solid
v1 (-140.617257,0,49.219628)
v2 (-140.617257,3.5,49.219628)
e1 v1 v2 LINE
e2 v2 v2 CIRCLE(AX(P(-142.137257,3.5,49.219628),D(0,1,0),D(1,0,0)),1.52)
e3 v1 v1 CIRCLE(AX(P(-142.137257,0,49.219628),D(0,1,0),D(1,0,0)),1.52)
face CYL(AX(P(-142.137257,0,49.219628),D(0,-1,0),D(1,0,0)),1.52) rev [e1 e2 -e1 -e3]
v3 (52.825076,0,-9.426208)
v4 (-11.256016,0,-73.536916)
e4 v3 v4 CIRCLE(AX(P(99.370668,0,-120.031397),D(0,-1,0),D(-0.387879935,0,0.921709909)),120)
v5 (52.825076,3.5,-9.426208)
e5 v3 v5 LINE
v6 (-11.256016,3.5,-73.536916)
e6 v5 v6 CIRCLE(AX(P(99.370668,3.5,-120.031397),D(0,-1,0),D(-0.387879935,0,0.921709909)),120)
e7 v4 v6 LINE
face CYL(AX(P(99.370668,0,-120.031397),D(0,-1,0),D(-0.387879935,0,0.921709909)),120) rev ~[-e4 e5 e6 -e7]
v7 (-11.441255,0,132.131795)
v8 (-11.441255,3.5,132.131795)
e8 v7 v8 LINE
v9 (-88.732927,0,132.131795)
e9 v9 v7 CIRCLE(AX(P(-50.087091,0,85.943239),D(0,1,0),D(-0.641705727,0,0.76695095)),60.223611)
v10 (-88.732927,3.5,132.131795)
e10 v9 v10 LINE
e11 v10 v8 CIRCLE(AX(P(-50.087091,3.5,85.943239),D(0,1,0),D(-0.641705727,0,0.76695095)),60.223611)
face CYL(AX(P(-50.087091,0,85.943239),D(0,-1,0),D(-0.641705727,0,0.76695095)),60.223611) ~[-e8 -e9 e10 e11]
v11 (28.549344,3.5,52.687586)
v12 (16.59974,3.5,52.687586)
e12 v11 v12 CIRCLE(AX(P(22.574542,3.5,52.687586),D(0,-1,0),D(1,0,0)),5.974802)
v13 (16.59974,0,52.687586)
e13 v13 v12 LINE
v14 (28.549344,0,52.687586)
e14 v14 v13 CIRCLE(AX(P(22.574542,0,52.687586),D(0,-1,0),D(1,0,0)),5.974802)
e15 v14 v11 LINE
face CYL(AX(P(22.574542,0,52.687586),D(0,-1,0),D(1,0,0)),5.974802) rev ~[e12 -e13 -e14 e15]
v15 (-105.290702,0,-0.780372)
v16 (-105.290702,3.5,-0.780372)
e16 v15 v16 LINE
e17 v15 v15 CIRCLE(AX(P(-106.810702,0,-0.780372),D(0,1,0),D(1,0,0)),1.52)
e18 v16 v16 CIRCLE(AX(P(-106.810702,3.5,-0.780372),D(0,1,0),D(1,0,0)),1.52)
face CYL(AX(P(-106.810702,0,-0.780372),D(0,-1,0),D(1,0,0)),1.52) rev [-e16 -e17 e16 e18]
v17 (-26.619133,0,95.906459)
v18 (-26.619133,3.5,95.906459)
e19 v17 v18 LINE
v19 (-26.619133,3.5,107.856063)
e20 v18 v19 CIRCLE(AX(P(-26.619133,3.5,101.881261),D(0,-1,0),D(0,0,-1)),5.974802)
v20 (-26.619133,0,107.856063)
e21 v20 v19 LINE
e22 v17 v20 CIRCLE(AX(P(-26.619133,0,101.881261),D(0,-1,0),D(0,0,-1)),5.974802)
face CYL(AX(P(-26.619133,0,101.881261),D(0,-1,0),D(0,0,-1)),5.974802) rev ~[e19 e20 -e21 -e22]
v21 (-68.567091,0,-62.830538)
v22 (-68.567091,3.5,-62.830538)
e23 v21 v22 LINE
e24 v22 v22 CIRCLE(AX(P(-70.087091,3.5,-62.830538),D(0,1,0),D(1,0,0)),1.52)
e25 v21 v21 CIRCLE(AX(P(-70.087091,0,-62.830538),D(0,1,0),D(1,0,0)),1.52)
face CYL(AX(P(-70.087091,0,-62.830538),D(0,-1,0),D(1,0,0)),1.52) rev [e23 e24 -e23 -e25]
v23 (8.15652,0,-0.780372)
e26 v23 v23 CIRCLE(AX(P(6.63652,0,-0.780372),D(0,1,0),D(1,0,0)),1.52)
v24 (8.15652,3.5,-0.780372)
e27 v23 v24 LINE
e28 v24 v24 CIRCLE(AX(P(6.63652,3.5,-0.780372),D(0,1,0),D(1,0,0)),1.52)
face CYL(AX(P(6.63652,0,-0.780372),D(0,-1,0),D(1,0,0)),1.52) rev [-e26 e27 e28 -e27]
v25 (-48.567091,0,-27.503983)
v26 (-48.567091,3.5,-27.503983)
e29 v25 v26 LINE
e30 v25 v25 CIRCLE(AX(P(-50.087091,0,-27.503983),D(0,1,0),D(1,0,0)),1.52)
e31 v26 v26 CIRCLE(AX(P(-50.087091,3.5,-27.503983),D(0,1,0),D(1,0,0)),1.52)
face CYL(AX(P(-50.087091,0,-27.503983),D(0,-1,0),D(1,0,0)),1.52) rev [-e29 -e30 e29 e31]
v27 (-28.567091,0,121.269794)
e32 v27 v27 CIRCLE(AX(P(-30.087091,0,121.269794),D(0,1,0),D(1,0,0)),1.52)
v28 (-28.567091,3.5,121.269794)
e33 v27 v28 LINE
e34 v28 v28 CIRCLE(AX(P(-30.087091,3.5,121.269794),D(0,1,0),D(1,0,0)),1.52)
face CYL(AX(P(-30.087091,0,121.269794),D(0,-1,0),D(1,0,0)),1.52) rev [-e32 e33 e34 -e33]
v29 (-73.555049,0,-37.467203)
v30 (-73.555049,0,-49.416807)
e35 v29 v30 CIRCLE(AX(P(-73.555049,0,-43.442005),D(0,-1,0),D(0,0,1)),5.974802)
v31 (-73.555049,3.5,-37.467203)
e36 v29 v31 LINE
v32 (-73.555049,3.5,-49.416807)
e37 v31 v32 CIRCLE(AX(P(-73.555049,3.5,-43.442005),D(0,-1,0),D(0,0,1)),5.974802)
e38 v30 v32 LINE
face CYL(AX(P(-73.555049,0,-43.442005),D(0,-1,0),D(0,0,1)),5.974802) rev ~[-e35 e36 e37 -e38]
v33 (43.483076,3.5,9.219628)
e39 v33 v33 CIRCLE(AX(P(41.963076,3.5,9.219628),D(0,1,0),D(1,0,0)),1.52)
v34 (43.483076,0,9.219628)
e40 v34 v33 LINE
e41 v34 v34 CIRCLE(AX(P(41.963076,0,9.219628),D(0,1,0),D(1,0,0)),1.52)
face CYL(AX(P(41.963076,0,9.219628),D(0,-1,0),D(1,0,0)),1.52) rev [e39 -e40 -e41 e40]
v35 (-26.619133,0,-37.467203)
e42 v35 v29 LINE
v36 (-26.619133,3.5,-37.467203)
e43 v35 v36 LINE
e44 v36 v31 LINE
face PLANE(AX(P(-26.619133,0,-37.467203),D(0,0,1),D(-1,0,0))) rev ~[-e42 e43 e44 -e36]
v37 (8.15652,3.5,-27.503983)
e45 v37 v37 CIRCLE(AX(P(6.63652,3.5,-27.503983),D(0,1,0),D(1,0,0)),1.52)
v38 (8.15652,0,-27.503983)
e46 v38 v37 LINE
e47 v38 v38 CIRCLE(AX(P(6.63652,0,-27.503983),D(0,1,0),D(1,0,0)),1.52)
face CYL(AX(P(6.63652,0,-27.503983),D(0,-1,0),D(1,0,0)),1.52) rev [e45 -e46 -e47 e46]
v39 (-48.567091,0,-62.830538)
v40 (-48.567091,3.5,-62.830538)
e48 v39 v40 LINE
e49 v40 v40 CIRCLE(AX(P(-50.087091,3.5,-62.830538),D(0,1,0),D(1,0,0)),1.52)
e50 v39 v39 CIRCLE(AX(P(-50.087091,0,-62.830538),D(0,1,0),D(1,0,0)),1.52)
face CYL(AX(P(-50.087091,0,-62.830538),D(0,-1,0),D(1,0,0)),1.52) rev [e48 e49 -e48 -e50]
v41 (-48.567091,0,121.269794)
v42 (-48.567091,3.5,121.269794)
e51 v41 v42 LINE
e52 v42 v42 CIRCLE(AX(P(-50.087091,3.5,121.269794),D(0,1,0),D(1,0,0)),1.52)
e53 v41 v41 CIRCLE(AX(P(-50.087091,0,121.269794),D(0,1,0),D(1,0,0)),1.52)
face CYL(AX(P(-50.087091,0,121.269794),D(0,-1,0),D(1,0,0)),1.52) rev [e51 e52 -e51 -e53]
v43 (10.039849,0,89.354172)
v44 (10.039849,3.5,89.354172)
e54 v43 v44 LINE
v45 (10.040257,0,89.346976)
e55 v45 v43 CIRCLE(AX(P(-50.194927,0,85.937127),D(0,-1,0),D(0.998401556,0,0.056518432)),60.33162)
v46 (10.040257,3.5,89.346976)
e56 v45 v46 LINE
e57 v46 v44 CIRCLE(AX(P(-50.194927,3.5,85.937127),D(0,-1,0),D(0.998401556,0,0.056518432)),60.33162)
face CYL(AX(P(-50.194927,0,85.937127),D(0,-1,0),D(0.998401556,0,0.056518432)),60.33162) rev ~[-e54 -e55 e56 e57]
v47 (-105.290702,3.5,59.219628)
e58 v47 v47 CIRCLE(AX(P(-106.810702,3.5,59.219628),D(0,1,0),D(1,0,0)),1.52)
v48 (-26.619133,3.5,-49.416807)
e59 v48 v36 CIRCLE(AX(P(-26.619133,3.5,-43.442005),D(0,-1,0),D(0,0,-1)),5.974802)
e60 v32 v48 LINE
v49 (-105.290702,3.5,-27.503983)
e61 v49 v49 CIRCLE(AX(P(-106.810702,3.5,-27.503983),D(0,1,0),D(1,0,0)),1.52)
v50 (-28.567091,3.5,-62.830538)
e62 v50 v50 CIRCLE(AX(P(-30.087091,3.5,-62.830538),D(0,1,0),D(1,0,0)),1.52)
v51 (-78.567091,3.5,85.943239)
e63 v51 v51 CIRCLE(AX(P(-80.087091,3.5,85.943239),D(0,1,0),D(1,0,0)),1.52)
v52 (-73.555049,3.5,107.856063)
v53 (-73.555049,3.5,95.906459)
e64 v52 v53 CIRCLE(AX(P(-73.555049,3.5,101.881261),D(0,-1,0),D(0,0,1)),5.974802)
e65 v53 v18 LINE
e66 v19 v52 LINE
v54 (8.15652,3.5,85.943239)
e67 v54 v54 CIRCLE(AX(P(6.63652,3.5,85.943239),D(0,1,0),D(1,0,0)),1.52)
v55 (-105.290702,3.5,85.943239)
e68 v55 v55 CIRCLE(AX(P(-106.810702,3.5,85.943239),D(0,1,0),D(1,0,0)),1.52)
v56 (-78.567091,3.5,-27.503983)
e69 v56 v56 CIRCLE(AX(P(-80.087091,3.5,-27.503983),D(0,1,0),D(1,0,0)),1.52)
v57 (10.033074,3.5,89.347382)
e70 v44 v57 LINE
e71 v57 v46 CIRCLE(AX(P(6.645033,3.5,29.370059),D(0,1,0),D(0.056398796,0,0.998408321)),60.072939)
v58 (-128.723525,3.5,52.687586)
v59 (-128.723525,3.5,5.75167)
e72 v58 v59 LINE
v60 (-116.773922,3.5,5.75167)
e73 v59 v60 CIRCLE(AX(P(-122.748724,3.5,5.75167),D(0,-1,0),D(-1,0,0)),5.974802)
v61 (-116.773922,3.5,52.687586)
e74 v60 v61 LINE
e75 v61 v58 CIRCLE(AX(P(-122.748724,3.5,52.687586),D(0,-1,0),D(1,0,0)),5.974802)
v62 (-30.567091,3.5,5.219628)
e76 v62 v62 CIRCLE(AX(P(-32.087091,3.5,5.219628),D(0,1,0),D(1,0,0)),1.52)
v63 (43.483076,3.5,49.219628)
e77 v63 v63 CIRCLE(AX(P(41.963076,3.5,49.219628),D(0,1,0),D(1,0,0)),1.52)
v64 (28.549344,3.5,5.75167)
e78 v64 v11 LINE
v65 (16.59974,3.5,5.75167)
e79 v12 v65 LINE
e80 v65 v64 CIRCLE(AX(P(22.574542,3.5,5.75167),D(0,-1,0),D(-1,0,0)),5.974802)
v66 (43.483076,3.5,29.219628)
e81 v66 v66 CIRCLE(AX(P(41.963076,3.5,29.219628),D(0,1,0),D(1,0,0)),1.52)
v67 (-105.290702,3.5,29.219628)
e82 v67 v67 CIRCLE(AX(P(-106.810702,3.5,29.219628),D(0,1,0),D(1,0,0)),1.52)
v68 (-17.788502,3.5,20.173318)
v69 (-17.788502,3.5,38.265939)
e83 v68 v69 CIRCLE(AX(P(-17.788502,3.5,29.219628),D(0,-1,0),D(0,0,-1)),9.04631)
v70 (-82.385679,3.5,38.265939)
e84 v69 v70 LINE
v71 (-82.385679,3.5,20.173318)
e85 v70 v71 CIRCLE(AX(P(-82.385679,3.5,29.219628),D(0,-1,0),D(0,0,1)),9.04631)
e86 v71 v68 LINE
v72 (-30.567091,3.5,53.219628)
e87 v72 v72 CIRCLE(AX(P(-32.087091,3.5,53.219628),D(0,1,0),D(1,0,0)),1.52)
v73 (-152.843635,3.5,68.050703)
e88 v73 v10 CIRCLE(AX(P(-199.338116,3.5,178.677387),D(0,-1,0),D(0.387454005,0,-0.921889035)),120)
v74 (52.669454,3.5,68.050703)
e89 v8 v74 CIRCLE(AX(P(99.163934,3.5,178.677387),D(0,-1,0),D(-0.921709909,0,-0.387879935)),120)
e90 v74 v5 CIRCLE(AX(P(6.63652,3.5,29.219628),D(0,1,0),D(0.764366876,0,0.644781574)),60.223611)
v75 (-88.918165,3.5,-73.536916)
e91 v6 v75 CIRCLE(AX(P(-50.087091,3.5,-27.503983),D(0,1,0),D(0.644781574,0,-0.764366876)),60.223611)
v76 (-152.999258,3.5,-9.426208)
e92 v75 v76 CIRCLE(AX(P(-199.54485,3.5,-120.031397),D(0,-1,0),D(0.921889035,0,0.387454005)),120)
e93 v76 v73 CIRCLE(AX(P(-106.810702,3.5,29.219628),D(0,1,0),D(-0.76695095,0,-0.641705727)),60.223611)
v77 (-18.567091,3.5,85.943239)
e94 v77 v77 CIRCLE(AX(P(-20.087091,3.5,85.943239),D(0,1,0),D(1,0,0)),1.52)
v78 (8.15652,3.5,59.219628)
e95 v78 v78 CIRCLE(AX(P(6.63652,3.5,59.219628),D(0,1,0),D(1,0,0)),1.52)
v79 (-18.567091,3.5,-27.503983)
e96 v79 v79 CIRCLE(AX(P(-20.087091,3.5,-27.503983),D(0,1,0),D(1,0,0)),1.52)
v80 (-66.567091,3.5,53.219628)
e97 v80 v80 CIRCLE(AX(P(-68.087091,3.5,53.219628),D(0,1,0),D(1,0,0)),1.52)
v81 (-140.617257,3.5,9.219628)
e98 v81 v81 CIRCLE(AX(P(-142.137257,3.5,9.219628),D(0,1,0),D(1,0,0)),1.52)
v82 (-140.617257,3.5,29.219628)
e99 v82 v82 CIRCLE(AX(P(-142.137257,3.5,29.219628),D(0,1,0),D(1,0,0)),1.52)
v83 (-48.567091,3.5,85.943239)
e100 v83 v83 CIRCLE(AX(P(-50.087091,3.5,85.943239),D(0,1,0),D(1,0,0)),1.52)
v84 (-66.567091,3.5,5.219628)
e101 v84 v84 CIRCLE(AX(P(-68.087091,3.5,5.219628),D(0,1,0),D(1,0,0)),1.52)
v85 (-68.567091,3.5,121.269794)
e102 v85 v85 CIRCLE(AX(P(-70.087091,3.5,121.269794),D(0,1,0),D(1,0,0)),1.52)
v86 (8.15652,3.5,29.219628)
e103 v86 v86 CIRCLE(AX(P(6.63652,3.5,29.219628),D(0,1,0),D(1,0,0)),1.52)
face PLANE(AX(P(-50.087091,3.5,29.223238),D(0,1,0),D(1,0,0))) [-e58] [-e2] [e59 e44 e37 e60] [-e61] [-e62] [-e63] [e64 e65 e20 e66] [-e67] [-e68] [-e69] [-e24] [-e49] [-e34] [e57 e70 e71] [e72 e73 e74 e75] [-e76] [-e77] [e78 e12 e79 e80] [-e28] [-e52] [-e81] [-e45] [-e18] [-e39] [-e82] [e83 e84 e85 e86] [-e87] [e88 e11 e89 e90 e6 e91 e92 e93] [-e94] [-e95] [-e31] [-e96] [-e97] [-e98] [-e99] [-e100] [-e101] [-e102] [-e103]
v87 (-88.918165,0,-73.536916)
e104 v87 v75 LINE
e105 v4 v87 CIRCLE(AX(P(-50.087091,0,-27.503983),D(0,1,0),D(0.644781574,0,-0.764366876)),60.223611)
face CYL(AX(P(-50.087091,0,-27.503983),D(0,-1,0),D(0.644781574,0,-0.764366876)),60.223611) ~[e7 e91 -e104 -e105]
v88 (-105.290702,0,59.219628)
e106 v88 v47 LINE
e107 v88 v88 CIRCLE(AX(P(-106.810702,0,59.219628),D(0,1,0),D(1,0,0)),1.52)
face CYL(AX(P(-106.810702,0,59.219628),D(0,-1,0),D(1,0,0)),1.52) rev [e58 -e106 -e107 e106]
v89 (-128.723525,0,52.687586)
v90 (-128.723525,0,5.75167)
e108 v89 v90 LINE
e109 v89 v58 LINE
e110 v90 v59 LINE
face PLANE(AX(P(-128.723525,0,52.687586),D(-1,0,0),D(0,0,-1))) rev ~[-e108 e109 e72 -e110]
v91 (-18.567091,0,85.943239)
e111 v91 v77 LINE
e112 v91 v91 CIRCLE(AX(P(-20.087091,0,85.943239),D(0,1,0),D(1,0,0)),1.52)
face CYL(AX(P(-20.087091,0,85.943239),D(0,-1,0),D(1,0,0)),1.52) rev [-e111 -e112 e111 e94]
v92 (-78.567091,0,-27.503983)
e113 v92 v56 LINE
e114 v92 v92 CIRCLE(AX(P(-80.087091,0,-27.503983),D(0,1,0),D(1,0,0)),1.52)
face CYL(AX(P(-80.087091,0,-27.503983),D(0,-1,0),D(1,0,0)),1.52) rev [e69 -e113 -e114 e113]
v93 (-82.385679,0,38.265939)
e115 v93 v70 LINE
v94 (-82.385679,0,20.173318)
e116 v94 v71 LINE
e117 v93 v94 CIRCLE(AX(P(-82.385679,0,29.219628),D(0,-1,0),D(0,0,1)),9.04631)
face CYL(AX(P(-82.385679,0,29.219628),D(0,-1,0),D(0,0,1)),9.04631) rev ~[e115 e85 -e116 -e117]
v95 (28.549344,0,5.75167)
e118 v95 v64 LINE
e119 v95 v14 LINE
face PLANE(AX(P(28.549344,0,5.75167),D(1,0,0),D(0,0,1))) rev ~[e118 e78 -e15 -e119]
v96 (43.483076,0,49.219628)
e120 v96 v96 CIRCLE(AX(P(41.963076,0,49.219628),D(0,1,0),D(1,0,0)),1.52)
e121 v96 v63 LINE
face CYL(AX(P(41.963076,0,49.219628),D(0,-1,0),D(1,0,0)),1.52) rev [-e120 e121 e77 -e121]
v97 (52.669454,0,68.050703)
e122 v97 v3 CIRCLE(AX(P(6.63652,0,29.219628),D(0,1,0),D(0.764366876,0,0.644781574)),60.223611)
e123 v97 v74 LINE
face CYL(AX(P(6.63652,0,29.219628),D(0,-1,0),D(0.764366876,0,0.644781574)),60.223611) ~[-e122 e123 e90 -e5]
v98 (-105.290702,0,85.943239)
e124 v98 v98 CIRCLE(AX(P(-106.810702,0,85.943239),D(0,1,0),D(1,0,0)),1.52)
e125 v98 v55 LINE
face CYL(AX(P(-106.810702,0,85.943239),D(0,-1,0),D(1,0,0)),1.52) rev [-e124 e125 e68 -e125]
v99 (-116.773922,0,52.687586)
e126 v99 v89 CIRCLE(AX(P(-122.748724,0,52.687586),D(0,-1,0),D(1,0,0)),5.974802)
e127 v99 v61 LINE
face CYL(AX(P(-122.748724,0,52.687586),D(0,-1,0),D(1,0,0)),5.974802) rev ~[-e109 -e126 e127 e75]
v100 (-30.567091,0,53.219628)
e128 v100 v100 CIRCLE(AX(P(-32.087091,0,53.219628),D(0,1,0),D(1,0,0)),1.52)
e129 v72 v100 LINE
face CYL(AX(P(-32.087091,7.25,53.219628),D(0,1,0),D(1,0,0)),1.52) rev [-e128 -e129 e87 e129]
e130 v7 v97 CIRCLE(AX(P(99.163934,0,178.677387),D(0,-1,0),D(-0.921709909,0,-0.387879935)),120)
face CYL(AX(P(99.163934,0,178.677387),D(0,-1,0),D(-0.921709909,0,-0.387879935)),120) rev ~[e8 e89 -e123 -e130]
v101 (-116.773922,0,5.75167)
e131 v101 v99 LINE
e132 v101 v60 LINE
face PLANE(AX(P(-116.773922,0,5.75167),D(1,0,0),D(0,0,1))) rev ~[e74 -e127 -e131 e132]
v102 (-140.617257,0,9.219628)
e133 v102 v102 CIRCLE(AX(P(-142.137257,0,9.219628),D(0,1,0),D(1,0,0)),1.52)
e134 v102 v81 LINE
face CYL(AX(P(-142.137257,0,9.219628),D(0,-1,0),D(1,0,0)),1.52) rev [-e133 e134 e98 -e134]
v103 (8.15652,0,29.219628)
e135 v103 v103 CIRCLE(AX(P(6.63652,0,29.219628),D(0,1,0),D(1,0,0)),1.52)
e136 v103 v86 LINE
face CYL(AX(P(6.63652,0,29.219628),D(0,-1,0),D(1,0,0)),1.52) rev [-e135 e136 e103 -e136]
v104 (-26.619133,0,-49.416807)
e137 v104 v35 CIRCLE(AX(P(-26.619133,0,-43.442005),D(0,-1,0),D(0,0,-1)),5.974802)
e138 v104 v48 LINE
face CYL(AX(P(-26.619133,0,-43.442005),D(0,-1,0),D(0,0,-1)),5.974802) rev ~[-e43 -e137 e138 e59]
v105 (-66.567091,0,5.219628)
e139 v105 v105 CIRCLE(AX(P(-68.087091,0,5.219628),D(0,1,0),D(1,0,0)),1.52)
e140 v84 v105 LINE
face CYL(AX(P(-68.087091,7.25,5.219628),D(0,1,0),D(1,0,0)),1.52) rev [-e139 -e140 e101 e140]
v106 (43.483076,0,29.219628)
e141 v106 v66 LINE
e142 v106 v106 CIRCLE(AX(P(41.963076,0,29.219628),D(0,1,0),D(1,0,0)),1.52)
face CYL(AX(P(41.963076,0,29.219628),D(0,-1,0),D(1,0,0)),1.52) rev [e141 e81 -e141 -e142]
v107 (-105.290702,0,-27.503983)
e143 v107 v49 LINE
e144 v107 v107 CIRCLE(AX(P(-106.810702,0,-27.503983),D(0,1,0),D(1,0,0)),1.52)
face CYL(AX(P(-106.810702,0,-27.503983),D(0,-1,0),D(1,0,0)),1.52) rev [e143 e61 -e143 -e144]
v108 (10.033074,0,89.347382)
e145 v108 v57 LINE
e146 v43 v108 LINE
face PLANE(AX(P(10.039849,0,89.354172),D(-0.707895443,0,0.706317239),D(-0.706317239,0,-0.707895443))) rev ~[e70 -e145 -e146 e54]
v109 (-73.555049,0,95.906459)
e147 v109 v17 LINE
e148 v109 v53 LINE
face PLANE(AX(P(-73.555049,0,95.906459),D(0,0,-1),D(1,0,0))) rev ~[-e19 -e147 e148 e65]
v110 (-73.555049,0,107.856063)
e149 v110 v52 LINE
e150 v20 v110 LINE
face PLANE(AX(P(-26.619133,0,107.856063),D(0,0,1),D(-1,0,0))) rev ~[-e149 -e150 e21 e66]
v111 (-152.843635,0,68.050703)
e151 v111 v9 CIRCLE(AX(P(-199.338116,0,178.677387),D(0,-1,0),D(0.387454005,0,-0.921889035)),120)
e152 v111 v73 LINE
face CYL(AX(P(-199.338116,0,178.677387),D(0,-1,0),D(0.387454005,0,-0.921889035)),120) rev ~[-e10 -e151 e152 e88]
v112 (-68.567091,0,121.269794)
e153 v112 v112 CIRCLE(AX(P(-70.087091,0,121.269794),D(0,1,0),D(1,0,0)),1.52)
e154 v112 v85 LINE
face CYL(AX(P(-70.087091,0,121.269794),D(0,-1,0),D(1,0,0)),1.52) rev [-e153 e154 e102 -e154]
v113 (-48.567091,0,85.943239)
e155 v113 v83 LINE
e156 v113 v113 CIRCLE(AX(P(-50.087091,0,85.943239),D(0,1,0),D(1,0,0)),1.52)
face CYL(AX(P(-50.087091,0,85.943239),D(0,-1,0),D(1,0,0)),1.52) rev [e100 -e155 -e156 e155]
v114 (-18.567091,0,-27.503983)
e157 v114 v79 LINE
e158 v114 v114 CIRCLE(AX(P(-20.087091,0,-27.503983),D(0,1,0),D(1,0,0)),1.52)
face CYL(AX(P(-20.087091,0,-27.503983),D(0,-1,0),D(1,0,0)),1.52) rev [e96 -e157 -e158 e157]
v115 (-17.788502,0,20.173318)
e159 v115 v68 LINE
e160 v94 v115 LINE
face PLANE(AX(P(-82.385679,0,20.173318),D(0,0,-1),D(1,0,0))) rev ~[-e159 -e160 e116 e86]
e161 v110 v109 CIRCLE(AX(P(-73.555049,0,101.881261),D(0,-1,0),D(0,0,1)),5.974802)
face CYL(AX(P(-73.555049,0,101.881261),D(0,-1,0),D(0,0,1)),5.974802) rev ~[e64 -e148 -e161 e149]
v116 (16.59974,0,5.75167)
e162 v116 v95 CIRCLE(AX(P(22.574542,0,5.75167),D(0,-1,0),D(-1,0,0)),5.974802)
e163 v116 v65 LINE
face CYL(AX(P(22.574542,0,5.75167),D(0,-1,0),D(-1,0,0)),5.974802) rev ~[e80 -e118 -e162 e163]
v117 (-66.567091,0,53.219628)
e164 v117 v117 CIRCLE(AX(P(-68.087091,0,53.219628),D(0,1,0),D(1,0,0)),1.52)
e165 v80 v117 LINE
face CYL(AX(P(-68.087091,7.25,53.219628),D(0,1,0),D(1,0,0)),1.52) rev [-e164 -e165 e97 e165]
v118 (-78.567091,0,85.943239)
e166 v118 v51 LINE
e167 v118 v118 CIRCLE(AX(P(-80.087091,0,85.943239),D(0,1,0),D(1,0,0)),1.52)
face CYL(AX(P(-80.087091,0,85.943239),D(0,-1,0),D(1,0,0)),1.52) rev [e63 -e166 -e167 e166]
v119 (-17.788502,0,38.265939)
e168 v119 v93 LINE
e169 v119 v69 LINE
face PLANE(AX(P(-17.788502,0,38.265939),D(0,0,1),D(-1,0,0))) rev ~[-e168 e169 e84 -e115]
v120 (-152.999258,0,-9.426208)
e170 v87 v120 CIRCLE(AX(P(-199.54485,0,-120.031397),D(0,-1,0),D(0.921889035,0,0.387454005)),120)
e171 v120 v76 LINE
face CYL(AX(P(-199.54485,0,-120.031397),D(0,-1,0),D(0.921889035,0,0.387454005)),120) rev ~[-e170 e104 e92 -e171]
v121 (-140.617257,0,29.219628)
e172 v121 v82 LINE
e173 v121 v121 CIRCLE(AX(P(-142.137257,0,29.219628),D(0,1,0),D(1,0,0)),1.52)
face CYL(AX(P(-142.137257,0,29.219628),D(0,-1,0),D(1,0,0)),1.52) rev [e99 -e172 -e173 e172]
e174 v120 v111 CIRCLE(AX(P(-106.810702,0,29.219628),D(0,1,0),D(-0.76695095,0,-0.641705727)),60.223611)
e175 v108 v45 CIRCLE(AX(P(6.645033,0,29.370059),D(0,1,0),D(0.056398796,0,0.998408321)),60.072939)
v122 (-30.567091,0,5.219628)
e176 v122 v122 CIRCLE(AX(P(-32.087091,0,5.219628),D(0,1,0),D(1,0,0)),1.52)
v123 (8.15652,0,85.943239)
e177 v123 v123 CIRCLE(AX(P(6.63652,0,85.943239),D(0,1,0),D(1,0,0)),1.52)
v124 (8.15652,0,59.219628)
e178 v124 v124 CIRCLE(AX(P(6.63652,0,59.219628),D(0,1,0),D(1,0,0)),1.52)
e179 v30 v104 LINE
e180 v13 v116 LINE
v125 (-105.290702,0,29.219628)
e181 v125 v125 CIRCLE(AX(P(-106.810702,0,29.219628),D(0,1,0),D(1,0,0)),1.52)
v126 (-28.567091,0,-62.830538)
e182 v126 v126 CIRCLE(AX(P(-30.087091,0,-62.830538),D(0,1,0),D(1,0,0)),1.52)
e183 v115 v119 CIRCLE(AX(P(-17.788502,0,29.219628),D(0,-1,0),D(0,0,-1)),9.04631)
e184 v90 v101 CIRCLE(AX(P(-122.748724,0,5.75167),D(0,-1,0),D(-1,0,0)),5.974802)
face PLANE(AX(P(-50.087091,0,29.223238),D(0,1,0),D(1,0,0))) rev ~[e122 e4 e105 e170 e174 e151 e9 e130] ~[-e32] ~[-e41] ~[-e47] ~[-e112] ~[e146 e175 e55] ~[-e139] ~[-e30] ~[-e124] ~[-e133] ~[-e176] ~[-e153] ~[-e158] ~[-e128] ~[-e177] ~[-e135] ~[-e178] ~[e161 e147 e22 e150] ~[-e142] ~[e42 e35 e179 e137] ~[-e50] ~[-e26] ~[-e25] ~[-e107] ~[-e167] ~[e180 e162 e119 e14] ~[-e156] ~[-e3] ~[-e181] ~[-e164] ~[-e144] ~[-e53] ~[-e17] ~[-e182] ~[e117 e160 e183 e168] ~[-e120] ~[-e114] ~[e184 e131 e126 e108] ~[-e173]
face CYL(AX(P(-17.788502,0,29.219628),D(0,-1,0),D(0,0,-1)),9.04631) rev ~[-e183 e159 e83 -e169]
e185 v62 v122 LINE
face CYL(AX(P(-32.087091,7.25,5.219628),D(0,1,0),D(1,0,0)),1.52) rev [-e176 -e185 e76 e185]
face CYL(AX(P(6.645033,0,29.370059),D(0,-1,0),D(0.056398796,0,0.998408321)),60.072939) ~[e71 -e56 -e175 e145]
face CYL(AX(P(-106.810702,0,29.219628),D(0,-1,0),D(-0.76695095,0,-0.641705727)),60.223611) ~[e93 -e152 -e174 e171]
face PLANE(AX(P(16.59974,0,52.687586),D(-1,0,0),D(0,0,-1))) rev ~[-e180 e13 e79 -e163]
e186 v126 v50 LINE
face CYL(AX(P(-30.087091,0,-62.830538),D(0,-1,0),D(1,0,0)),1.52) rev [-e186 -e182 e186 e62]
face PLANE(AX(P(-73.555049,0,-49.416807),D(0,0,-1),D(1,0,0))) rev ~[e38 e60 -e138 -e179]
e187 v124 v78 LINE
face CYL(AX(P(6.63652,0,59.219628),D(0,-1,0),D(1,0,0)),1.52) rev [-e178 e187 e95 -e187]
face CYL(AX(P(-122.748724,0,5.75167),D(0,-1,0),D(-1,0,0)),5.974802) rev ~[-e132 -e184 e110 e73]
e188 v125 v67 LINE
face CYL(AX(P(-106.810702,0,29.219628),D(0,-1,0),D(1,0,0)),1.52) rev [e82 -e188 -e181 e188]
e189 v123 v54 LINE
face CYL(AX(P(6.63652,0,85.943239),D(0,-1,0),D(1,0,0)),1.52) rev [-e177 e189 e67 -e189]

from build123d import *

# Parameters (mm, degrees)
SKETCH_2_R          = 1.520000009
SKETCH_2_R_2        = 1.519999991
SKETCH_2_R_3        = 1.520000003
SKETCH_2_R_4        = 1.519999997
EXTRUDE_3_DEPTH     = 3.5
SKETCH_4_R          = 1.52
CUT_EXTRUDE_2_DEPTH = 59


with BuildPart() as part:
    # 草图2 → 凸台-拉伸3 (new body)
    with BuildSketch(Plane(origin=(0, 0, 0), x_dir=(1, 0, 0), z_dir=(0, 1, 0))):
        with BuildLine():
            ThreePointArc((-11.441254589, -132.131794893), (14.330726674, -93.804971939), (52.669453823, -68.050702844))
            ThreePointArc((52.669453823, -68.050702844), (66.860009927, -29.340594642), (52.82507606, 9.426208049))
            ThreePointArc((52.82507606, 9.426208049), (14.498253105, 35.198189312), (-11.25601599, 73.536916461))
            ThreePointArc((-11.25601599, 73.536916461), (-50.087090736, 87.727594053), (-88.918165482, 73.536916461))
            ThreePointArc((-88.918165482, 73.536916461), (-114.672434576, 35.198189312), (-152.999257531, 9.426208049))
            ThreePointArc((-152.999257531, 9.426208049), (-167.034191399, -29.340594642), (-152.843635295, -68.050702844))
            ThreePointArc((-152.843635295, -68.050702844), (-114.504908145, -93.804971939), (-88.732926883, -132.131794893))
            ThreePointArc((-88.732926883, -132.131794893), (-50.087090736, -146.166850249), (-11.441254589, -132.131794893))
        make_face()
        with Locations((-106.810701812, -85.943239174)):
            Circle(SKETCH_2_R, mode=Mode.SUBTRACT)
        with Locations((-70.087090736, -121.269794335)):
            Circle(SKETCH_2_R, mode=Mode.SUBTRACT)
        with Locations((-80.087090736, -85.943239174)):
            Circle(SKETCH_2_R, mode=Mode.SUBTRACT)
        with Locations((-106.810701812, -59.219628098)):
            Circle(SKETCH_2_R, mode=Mode.SUBTRACT)
        with Locations((-142.137256973, -49.219628098)):
            Circle(SKETCH_2_R, mode=Mode.SUBTRACT)
        with Locations((-50.087090736, -121.269794335)):
            Circle(SKETCH_2_R, mode=Mode.SUBTRACT)
        with Locations((-30.087090736, -121.269794335)):
            Circle(SKETCH_2_R, mode=Mode.SUBTRACT)
        with BuildLine():
            Line((-73.555048946, -95.906459136), (-26.619132526, -95.906459136))
            ThreePointArc((-26.619132526, -95.906459136), (-20.644330739, -101.881260923), (-26.619132526, -107.856062709))
            Line((-26.619132526, -107.856062709), (-73.555048946, -107.856062709))
            ThreePointArc((-73.555048946, -107.856062709), (-79.529850733, -101.881260923), (-73.555048946, -95.906459136))
        make_face(mode=Mode.SUBTRACT)
        with Locations((-50.087090736, -85.943239174)):
            Circle(SKETCH_2_R_2, mode=Mode.SUBTRACT)
        with Locations((-20.087090736, -85.943239174)):
            Circle(SKETCH_2_R, mode=Mode.SUBTRACT)
        with BuildLine():
            Line((10.039848898, -89.354171782), (10.033073964, -89.34738171))
            ThreePointArc((10.033073964, -89.34738171), (10.036665339, -89.34717873), (10.040256701, -89.346975535))
            ThreePointArc((10.040256701, -89.346975535), (10.040052907, -89.350573664), (10.039848898, -89.354171782))
        make_face(mode=Mode.SUBTRACT)
        with Locations((6.63652034, -85.943239174)):
            Circle(SKETCH_2_R, mode=Mode.SUBTRACT)
        with BuildLine():
            ThreePointArc((-82.385679365, -38.265938506), (-91.431989773, -29.219628098), (-82.385679365, -20.17331769))
            Line((-82.385679365, -20.17331769), (-17.788502107, -20.17331769))
            ThreePointArc((-17.788502107, -20.17331769), (-8.742191699, -29.219628098), (-17.788502107, -38.265938506))
            Line((-17.788502107, -38.265938506), (-82.385679365, -38.265938506))
        make_face(mode=Mode.SUBTRACT)
        with Locations((6.63652034, -59.219628098)):
            Circle(SKETCH_2_R_3, mode=Mode.SUBTRACT)
        with Locations((41.963075501, -49.219628098)):
            Circle(SKETCH_2_R_3, mode=Mode.SUBTRACT)
        with Locations((-142.137256973, -29.219628098)):
            Circle(SKETCH_2_R, mode=Mode.SUBTRACT)
        with BuildLine():
            Line((-128.723525347, -52.687586308), (-128.723525347, -5.751669888))
            ThreePointArc((-128.723525347, -5.751669888), (-122.74872356, 0.223131899), (-116.773921774, -5.751669888))
            Line((-116.773921774, -5.751669888), (-116.773921774, -52.687586308))
            ThreePointArc((-116.773921774, -52.687586308), (-122.74872356, -58.662388095), (-128.723525347, -52.687586308))
        make_face(mode=Mode.SUBTRACT)
        with Locations((-142.137256973, -9.219628098)):
            Circle(SKETCH_2_R, mode=Mode.SUBTRACT)
        with Locations((-106.810701812, -29.219628098)):
            Circle(SKETCH_2_R_4, mode=Mode.SUBTRACT)
        with Locations((-106.810701812, 0.780371902)):
            Circle(SKETCH_2_R, mode=Mode.SUBTRACT)
        with Locations((-106.810701812, 27.503982978)):
            Circle(SKETCH_2_R, mode=Mode.SUBTRACT)
        with Locations((-80.087090736, 27.503982978)):
            Circle(SKETCH_2_R, mode=Mode.SUBTRACT)
        with Locations((-70.087090736, 62.830538139)):
            Circle(SKETCH_2_R, mode=Mode.SUBTRACT)
        with Locations((6.63652034, -29.219628098)):
            Circle(SKETCH_2_R_3, mode=Mode.SUBTRACT)
        with BuildLine():
            ThreePointArc((16.599740302, -5.751669888), (22.574542089, 0.223131899), (28.549343876, -5.751669888))
            Line((28.549343876, -5.751669888), (28.549343876, -52.687586308))
            ThreePointArc((28.549343876, -52.687586308), (22.574542089, -58.662388095), (16.599740302, -52.687586308))
            Line((16.599740302, -52.687586308), (16.599740302, -5.751669888))
        make_face(mode=Mode.SUBTRACT)
        with Locations((41.963075501, -29.219628098)):
            Circle(SKETCH_2_R_3, mode=Mode.SUBTRACT)
        with Locations((41.963075501, -9.219628098)):
            Circle(SKETCH_2_R_3, mode=Mode.SUBTRACT)
        with Locations((6.63652034, 0.780371902)):
            Circle(SKETCH_2_R_3, mode=Mode.SUBTRACT)
        with Locations((-50.087090736, 27.503982978)):
            Circle(SKETCH_2_R_4, mode=Mode.SUBTRACT)
        with Locations((-20.087090736, 27.503982978)):
            Circle(SKETCH_2_R, mode=Mode.SUBTRACT)
        with BuildLine():
            Line((-73.555048946, 49.416806513), (-26.619132526, 49.416806513))
            ThreePointArc((-26.619132526, 49.416806513), (-20.644330739, 43.442004727), (-26.619132526, 37.46720294))
            Line((-26.619132526, 37.46720294), (-73.555048946, 37.46720294))
            ThreePointArc((-73.555048946, 37.46720294), (-79.529850733, 43.442004727), (-73.555048946, 49.416806513))
        make_face(mode=Mode.SUBTRACT)
        with Locations((-50.087090736, 62.830538139)):
            Circle(SKETCH_2_R, mode=Mode.SUBTRACT)
        with Locations((-30.087090736, 62.830538139)):
            Circle(SKETCH_2_R, mode=Mode.SUBTRACT)
        with Locations((6.63652034, 27.503982978)):
            Circle(SKETCH_2_R, mode=Mode.SUBTRACT)
    extrude(amount=EXTRUDE_3_DEPTH)

    # 草图4 → 切除-拉伸2 (cut)
    with BuildSketch(Plane.XZ.offset(-7.25)):
        with Locations((-68.087090727, 5.219628098)):
            Circle(SKETCH_4_R)
        with Locations((-32.087090727, 5.219628098)):
            Circle(SKETCH_4_R)
        with Locations((-68.087090727, 53.219628098)):
            Circle(SKETCH_4_R)
        with Locations((-32.087090727, 53.219628098)):
            Circle(SKETCH_4_R)
    extrude(amount=CUT_EXTRUDE_2_DEPTH, mode=Mode.SUBTRACT)


solid = part.part
